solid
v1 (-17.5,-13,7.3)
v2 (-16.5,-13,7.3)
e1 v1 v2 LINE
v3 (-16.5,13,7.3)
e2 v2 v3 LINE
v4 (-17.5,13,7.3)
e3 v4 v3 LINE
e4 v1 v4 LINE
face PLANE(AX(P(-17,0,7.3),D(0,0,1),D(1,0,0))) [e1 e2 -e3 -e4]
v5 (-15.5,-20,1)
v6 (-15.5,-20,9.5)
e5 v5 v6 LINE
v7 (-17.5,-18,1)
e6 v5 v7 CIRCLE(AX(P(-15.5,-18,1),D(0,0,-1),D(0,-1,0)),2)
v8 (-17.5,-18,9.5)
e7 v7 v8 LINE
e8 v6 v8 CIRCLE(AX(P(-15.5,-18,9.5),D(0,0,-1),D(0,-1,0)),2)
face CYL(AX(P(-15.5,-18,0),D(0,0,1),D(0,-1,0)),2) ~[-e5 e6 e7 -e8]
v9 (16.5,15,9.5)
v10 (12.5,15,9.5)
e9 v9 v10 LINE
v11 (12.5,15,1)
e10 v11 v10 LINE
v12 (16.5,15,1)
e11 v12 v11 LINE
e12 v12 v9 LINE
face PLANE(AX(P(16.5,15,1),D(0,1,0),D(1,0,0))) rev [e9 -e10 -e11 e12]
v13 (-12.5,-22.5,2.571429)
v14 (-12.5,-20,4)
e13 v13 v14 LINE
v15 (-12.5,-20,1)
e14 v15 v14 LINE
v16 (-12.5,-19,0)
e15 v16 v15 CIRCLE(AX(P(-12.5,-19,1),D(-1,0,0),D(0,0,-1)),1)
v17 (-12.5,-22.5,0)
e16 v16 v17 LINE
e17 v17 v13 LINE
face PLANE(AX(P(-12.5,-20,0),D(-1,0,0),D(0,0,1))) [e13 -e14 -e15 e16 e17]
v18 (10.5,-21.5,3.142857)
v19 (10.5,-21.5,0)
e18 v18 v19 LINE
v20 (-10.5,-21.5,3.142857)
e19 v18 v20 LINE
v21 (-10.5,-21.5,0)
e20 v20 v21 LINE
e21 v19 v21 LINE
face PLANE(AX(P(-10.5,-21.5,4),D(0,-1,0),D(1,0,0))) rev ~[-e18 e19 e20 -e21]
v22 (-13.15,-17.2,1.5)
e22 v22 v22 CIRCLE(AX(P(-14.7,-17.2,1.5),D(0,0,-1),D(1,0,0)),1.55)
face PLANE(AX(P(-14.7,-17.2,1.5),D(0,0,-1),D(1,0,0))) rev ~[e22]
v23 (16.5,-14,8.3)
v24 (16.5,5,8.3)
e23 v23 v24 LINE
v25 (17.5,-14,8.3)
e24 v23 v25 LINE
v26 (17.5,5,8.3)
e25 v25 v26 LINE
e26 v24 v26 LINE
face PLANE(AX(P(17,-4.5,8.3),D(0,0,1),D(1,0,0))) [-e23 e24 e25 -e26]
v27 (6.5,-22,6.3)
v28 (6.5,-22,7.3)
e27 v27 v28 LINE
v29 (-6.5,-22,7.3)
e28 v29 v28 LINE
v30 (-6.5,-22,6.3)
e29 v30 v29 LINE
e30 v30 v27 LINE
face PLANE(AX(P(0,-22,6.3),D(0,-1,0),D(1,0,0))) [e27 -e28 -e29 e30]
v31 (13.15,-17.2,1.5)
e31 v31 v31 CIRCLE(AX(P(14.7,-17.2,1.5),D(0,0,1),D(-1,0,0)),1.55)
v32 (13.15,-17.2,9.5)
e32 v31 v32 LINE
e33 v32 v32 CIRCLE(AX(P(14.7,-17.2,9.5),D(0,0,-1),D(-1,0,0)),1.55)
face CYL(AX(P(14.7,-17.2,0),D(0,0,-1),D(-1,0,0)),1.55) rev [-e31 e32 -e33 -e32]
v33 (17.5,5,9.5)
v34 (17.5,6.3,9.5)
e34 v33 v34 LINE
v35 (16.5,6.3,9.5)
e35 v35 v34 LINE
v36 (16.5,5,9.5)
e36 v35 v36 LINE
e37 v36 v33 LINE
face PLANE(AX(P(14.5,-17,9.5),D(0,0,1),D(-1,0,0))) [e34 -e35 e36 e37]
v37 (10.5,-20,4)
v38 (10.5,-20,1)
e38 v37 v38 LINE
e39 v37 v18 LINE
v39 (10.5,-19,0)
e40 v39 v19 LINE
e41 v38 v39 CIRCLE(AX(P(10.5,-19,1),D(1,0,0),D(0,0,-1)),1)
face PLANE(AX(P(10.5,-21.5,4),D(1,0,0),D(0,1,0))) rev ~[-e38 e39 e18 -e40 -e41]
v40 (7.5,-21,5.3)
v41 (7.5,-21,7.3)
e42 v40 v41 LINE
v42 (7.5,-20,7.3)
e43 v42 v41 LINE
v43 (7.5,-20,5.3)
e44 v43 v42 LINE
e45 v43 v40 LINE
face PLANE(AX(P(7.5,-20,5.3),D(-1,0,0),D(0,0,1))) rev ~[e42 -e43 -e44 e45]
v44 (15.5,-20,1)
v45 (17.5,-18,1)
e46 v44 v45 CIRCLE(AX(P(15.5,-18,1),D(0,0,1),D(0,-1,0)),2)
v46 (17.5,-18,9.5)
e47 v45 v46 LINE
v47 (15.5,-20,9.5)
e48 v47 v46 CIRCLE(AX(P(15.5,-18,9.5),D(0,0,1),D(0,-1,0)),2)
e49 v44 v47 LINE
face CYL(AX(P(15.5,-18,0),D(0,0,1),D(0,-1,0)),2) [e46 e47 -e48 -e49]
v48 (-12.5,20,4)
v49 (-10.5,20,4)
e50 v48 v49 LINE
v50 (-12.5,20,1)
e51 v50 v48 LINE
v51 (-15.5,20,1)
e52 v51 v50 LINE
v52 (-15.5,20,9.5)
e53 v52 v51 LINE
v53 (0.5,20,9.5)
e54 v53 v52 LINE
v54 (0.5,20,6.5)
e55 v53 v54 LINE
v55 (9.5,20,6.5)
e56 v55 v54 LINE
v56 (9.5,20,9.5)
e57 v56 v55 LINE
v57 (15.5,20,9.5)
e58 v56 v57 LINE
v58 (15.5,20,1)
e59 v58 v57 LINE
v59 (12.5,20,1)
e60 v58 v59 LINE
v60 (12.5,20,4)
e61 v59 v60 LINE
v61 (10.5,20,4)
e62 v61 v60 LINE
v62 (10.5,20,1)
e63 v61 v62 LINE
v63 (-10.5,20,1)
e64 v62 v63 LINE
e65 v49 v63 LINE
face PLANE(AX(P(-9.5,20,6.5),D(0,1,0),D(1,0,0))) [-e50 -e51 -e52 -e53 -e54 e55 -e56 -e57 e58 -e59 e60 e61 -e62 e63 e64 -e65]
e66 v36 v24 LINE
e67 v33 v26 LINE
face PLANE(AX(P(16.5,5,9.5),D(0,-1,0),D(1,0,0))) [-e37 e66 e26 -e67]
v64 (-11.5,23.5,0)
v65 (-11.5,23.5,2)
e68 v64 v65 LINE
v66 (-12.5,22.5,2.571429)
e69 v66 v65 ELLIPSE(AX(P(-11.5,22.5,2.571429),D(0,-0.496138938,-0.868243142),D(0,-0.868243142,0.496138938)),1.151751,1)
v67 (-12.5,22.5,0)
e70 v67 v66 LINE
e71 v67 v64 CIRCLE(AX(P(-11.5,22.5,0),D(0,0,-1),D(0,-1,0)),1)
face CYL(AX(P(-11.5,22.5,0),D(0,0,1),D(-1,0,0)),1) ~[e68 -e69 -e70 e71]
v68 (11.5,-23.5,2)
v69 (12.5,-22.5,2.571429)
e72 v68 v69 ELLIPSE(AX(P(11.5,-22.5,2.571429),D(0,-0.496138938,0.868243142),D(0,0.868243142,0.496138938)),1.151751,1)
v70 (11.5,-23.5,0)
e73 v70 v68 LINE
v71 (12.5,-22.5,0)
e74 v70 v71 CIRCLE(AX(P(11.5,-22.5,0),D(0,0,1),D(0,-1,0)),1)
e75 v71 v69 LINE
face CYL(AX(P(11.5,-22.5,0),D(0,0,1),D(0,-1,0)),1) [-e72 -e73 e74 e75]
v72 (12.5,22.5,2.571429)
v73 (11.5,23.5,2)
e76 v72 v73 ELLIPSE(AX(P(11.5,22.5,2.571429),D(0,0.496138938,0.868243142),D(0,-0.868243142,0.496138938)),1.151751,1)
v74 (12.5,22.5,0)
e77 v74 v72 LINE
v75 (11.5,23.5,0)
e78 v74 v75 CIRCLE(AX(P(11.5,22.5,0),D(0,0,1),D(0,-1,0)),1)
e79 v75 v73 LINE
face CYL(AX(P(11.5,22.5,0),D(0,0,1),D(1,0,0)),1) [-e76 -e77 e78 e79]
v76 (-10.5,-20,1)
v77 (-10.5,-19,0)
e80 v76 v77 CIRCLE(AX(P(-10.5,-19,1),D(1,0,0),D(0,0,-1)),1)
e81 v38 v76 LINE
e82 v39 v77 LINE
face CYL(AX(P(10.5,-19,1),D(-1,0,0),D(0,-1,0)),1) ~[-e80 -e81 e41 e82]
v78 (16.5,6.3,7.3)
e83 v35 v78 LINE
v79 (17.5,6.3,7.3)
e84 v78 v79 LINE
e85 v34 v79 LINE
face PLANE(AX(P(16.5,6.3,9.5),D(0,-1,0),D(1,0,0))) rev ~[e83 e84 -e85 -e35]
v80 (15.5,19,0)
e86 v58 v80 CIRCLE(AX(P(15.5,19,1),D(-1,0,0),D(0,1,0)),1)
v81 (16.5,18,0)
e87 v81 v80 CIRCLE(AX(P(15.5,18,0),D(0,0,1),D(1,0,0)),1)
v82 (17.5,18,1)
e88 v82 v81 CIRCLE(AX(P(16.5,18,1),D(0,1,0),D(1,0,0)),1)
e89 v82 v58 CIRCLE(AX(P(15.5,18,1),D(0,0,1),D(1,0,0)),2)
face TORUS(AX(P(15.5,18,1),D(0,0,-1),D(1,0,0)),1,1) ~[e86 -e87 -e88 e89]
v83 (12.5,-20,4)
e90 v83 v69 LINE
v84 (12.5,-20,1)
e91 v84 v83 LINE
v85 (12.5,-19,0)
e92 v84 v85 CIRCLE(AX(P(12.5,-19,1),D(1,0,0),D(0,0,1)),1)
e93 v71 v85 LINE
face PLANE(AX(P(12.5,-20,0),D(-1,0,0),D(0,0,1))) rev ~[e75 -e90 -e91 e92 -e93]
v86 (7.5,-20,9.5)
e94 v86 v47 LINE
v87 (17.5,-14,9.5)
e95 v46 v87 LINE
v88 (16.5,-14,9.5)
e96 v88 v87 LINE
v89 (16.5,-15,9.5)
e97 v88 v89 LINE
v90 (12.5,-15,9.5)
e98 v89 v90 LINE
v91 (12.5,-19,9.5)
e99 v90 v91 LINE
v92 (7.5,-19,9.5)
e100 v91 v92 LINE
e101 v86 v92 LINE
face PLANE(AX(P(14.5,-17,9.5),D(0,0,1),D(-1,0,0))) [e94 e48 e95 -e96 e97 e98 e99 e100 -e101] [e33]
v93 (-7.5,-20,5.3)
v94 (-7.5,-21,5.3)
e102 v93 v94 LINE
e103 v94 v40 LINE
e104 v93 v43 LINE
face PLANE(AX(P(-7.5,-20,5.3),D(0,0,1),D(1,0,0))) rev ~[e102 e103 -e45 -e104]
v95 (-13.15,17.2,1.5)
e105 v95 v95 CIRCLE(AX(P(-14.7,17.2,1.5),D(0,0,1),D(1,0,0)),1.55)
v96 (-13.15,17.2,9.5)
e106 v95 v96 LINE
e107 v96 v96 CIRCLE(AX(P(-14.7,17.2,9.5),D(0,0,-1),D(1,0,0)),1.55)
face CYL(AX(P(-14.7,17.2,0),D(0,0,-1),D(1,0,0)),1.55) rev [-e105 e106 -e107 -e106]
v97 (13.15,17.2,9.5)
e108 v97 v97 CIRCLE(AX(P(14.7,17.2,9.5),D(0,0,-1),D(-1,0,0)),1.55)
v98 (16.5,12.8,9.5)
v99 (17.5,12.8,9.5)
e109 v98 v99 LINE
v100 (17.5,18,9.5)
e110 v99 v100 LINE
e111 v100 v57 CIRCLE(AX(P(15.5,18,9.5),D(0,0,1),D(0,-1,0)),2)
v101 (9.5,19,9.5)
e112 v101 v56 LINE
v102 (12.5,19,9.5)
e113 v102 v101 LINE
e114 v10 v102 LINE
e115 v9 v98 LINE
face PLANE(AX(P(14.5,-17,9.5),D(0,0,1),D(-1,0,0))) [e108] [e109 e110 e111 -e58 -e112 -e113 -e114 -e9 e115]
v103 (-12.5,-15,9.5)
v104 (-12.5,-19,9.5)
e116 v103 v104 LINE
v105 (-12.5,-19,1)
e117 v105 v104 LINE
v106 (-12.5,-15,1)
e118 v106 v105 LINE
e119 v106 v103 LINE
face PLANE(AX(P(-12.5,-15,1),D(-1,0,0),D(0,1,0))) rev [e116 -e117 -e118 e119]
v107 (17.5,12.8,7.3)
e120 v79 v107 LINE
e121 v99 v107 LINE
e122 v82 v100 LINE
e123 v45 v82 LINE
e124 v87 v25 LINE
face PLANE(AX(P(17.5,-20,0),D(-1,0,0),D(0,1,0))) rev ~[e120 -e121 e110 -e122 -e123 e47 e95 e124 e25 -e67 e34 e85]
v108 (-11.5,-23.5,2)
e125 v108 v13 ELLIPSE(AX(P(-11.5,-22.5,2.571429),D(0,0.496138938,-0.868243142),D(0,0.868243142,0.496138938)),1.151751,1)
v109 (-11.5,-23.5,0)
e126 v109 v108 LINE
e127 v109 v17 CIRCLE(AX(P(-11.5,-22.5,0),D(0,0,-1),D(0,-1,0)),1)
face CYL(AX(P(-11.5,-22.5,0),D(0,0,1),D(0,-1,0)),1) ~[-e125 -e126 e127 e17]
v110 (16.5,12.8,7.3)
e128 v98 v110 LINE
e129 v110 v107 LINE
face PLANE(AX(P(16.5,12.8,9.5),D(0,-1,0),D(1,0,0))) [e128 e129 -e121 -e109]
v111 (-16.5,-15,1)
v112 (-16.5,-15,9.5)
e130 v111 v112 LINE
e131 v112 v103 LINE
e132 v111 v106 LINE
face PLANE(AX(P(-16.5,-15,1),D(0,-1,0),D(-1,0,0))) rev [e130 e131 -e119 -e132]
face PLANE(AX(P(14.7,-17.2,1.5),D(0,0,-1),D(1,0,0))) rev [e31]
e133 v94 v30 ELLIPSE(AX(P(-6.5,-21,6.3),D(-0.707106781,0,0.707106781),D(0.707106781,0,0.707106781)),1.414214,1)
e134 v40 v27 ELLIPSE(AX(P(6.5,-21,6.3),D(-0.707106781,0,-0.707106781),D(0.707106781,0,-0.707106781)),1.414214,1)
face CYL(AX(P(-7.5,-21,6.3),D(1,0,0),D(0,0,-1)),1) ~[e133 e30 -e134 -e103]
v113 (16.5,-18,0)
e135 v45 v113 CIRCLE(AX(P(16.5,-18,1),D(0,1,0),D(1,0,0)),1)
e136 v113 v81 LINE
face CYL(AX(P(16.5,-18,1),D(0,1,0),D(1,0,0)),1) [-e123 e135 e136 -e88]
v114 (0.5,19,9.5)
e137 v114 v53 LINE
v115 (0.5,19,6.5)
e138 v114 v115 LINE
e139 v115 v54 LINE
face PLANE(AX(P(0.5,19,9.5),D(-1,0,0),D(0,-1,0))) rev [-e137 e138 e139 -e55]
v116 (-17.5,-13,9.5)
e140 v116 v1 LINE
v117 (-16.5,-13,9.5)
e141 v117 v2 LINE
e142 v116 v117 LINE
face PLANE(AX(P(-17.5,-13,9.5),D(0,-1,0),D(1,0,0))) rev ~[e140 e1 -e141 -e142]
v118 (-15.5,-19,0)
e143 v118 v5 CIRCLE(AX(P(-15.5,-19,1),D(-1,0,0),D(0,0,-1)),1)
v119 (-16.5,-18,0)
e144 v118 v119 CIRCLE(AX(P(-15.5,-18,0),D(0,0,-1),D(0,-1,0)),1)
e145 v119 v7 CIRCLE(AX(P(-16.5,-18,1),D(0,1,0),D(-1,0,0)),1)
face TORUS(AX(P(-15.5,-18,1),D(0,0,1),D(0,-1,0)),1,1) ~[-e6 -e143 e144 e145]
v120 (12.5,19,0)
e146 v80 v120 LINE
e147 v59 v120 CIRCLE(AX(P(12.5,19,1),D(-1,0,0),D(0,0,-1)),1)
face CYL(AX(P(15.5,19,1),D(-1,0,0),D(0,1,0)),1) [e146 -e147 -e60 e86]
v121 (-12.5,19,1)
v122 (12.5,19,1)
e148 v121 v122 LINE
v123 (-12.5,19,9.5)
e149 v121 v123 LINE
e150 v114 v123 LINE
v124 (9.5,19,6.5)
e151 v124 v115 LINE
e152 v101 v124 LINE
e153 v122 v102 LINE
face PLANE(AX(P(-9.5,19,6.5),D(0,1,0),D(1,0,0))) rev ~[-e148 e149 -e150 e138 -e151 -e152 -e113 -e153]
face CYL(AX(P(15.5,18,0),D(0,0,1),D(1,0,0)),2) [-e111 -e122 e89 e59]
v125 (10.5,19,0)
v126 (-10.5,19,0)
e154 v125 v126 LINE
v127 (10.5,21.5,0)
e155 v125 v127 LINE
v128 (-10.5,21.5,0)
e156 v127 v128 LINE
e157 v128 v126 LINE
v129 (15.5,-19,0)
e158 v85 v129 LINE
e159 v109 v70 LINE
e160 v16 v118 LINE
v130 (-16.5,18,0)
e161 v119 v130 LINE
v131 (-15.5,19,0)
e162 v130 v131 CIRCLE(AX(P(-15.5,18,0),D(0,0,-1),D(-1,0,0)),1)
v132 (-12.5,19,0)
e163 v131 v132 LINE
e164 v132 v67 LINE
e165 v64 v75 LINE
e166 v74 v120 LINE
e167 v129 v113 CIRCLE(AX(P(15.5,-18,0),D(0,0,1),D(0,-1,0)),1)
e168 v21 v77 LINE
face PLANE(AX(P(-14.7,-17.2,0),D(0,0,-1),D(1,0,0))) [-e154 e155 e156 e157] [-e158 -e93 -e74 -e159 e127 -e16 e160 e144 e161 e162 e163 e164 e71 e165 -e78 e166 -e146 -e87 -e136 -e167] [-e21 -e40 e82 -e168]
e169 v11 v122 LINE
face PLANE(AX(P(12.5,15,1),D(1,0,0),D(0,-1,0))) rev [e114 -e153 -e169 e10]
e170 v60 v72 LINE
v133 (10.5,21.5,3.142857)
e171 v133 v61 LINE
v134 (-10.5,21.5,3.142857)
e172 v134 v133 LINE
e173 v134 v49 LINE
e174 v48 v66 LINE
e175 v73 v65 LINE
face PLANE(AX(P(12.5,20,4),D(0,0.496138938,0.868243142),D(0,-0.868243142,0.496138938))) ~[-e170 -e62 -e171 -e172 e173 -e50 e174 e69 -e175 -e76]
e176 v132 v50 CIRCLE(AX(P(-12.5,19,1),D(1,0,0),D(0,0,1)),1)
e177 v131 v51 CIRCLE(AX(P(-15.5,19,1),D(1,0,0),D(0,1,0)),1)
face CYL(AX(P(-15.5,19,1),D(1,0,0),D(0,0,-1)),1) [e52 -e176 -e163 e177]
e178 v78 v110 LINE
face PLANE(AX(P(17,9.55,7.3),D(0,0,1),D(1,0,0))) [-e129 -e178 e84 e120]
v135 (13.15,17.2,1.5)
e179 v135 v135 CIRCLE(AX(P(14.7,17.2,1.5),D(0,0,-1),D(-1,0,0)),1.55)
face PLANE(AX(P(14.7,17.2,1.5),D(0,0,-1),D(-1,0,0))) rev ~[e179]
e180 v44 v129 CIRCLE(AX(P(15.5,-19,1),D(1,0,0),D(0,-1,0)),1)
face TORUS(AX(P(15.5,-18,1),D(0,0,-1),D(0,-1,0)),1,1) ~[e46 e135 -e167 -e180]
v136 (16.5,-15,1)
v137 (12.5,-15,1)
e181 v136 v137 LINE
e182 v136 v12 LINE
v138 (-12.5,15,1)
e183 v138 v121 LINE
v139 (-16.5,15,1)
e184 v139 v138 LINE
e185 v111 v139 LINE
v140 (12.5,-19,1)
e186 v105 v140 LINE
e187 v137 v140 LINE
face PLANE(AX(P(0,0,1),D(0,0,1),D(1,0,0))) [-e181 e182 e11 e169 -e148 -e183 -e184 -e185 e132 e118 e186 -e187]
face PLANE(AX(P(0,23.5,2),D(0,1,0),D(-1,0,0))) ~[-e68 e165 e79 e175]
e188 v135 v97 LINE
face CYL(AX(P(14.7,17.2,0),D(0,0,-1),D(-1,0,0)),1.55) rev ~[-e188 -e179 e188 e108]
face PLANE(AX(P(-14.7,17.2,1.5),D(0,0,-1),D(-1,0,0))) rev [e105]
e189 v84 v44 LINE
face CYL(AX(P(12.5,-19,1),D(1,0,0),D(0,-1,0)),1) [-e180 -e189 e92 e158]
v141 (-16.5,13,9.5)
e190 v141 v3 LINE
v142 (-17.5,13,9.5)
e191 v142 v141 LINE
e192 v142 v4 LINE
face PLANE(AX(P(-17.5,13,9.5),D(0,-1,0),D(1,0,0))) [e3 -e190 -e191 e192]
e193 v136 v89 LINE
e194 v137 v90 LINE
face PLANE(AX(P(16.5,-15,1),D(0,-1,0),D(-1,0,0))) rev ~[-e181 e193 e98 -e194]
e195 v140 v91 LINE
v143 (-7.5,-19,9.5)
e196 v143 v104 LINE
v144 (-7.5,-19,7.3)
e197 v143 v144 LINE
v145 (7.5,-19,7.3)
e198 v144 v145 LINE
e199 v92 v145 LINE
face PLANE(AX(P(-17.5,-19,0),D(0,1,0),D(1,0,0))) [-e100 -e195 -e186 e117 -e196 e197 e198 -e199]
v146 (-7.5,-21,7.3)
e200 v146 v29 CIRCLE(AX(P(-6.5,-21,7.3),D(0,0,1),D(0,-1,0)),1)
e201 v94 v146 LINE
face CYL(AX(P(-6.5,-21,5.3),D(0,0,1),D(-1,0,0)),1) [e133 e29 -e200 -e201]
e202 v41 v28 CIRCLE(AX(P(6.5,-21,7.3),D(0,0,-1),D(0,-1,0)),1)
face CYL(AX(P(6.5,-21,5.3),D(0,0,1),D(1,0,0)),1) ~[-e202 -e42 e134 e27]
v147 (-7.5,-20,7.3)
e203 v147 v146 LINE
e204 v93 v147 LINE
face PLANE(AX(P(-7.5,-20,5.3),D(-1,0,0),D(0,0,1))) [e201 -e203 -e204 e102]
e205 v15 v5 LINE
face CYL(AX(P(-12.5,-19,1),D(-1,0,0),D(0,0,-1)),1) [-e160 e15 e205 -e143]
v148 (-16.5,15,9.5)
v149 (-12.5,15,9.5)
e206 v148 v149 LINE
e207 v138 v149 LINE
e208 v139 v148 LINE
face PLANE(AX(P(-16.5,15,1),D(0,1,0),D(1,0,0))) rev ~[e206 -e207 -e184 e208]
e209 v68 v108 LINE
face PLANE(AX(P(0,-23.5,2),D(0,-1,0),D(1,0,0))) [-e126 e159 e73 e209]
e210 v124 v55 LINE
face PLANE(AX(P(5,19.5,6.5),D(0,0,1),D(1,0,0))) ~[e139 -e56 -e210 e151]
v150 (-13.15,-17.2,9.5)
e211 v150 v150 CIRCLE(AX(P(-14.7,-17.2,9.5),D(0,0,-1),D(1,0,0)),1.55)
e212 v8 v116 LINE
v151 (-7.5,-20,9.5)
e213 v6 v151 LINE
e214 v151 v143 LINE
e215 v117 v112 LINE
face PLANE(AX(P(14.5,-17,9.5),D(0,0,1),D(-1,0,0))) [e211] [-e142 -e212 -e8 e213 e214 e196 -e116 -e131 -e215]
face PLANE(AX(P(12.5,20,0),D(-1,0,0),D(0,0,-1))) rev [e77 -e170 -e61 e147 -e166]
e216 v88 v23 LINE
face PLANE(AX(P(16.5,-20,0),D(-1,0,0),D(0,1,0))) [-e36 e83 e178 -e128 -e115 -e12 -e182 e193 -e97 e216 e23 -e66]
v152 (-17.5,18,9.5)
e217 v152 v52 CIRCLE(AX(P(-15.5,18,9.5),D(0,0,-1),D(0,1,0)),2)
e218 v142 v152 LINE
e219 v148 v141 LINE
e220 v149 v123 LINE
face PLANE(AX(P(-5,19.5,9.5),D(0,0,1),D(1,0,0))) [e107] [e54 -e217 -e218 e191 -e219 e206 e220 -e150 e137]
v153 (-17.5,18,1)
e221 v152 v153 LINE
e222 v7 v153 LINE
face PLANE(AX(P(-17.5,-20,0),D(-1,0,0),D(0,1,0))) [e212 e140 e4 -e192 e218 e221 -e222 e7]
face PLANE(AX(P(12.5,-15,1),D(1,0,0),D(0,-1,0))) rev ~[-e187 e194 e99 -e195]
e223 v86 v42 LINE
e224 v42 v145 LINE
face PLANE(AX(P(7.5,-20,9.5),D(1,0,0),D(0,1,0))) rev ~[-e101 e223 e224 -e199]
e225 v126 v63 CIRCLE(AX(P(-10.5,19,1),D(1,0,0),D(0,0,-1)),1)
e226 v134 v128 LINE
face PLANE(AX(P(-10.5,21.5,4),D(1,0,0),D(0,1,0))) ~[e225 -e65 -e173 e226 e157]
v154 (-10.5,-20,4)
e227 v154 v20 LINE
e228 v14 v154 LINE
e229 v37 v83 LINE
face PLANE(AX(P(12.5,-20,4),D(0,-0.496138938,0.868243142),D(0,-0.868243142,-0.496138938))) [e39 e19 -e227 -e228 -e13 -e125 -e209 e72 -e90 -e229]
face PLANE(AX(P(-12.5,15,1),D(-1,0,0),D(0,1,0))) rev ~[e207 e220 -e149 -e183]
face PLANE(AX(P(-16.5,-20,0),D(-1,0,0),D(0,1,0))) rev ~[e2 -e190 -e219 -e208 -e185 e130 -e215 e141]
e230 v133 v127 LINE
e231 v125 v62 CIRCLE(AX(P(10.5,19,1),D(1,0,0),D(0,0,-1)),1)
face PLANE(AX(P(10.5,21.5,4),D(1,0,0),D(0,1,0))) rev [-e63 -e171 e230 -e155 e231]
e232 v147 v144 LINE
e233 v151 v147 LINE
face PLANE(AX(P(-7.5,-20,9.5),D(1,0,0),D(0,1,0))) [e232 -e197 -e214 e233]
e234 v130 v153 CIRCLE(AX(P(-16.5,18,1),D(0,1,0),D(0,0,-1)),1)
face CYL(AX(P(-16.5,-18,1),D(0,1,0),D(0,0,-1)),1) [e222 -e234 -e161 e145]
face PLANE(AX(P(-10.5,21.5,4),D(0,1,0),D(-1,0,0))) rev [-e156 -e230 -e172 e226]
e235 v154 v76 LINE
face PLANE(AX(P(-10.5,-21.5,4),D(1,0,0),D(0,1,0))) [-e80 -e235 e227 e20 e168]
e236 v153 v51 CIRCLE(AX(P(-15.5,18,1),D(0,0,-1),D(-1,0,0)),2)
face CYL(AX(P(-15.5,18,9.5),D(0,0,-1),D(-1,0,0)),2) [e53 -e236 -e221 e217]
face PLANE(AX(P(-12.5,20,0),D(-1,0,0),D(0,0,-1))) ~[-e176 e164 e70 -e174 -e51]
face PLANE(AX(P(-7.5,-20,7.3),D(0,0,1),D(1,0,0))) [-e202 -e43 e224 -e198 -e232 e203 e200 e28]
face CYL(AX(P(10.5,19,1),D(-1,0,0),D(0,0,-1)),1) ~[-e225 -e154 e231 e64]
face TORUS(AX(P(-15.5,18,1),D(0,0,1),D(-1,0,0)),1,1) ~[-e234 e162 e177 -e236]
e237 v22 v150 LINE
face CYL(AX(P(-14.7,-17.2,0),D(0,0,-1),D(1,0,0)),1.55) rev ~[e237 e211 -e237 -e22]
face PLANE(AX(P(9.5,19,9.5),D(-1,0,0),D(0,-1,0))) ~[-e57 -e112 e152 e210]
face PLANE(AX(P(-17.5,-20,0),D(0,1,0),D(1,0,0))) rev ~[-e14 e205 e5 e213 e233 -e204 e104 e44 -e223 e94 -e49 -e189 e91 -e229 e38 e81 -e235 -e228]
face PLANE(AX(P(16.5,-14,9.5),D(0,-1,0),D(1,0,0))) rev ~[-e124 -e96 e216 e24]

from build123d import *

# Parameters (mm, degrees)
SKETCH_1_W               = 35
SKETCH_1_H               = 40
EXTRUDE_1_DEPTH          = 9.5
SHELL_1_T                = -1
SKETCH_2_W               = 4
SKETCH_2_H               = 4
EXTRUDE_2_DEPTH          = 8.5
MIRROR_4_COPY_1_SKETCH_W = 4
MIRROR_4_COPY_1_SKETCH_H = 4
MIRROR_4_COPY_1_DEPTH    = 8.5
SKETCH_3_R               = 1.55
CUT_EXTRUDE_1_DEPTH      = 12
MIRROR_6_COPY_1_SKETCH_R = 1.55
MIRROR_6_COPY_1_DEPTH    = 12
SKETCH_6_R               = 1.55
EXTRUDE_3_DEPTH          = 1.5
MIRROR_8_COPY_1_SKETCH_R = 1.55
MIRROR_8_COPY_1_DEPTH    = 1.5
SKETCH_7_W               = 9
SKETCH_7_H               = 1
CUT_EXTRUDE_2_DEPTH      = 3
SKETCH_8_W               = 1
SKETCH_8_H               = 26
CUT_EXTRUDE_3_DEPTH      = 2.2
SKETCH_9_W               = 1
SKETCH_9_H               = 19
CUT_EXTRUDE_4_DEPTH      = 1.2
SKETCH_10_W              = 1
SKETCH_10_H              = 6.5
CUT_EXTRUDE_5_DEPTH      = 2.2
SKETCH_11_W              = 15
SKETCH_11_H              = 1
CUT_EXTRUDE_6_DEPTH      = 2.2
SKETCH_12_W              = 25
SKETCH_12_H              = 4
EXTRUDE_4_DEPTH          = 3.5
SKETCH_13_W              = 21
SKETCH_13_H              = 1.5
CUT_EXTRUDE_7_DEPTH      = 5
CUT_EXTRUDE_8_DEPTH      = 50
SKETCH_15_W              = 15
SKETCH_15_H              = 2
EXTRUDE_5_DEPTH          = 2
FILLET_1_R               = 2
FILLET_2_R               = 1
FILLET_3_R               = 1
FILLET_4_R               = 1
SKETCH_16_W              = 9
SKETCH_16_H              = 1
EXTRUDE_6_DEPTH          = 3


with BuildPart() as part:
    # 草图1 → 凸台-拉伸1 (new body)
    with BuildSketch(Plane.XY):
        Rectangle(SKETCH_1_W, SKETCH_1_H)
    extrude(amount=EXTRUDE_1_DEPTH)

    # 抽壳1
    shell_1_openings = [part.faces().sort_by_distance(p)[0] for p in [
        (0, 0, 9.5),
    ]]
    offset(amount=SHELL_1_T, openings=shell_1_openings, kind=Kind.INTERSECTION)

    # 草图2 → 凸台-拉伸2 (add)
    with BuildSketch(Plane.XY.offset(1)):
        with Locations((-14.5, 17)):
            Rectangle(SKETCH_2_W, SKETCH_2_H)
    extrude_2 = extrude(amount=EXTRUDE_2_DEPTH)

    # 镜向3: 凸台-拉伸2 across plane
    add(extrude_2.mirror(Plane.ZX))

    # 镜向4: 凸台-拉伸2 across plane
    add(extrude_2.mirror(Plane(origin=(0, 0, 0), x_dir=(0, 0, 1), z_dir=(1, 0, 0))))

    # 镜向4 copy 1 sketch → 镜向4 copy 1 (add)
    with BuildSketch(Plane(origin=(0, 0, 1), x_dir=(-1, 0, 0), z_dir=(0, 0, 1))):
        with Locations((-14.5, 17)):
            Rectangle(MIRROR_4_COPY_1_SKETCH_W, MIRROR_4_COPY_1_SKETCH_H)
    extrude(amount=MIRROR_4_COPY_1_DEPTH)

    # 草图3 → 切除-拉伸1 (cut)
    with BuildSketch(Plane(origin=(0, 0, 0), x_dir=(-1, 0, 0), z_dir=(0, 0, -1))):
        with Locations((-14.7, 17.2)):
            Circle(SKETCH_3_R)
    cut_extrude_1 = extrude(amount=-CUT_EXTRUDE_1_DEPTH, mode=Mode.SUBTRACT)

    # 镜向5: 切除-拉伸1 across plane
    add(cut_extrude_1.mirror(Plane.ZX), mode=Mode.SUBTRACT)

    # 镜向6: 切除-拉伸1 across plane
    add(cut_extrude_1.mirror(Plane(origin=(0, 0, 0), x_dir=(0, 0, 1), z_dir=(1, 0, 0))), mode=Mode.SUBTRACT)

    # 镜向6 copy 1 sketch → 镜向6 copy 1 (cut)
    with BuildSketch(Plane(origin=(0, 0, 0), x_dir=(1, 0, 0), z_dir=(0, 0, -1))):
        with Locations((-14.7, 17.2)):
            Circle(MIRROR_6_COPY_1_SKETCH_R)
    extrude(amount=-MIRROR_6_COPY_1_DEPTH, mode=Mode.SUBTRACT)

    # 草图6 → 凸台-拉伸3 (add)
    with BuildSketch(Plane(origin=(0, 0, 0), x_dir=(-1, 0, 0), z_dir=(0, 0, -1))):
        with Locations((-14.7, 17.2)):
            Circle(SKETCH_6_R)
    extrude_3 = extrude(amount=-EXTRUDE_3_DEPTH)

    # 镜向7: 凸台-拉伸3 across plane
    add(extrude_3.mirror(Plane.ZX))

    # 镜向8: 凸台-拉伸3 across plane
    add(extrude_3.mirror(Plane(origin=(0, 0, 0), x_dir=(0, 0, 1), z_dir=(1, 0, 0))))

    # 镜向8 copy 1 sketch → 镜向8 copy 1 (add)
    with BuildSketch(Plane(origin=(0, 0, 0), x_dir=(1, 0, 0), z_dir=(0, 0, -1))):
        with Locations((-14.7, 17.2)):
            Circle(MIRROR_8_COPY_1_SKETCH_R)
    extrude(amount=-MIRROR_8_COPY_1_DEPTH)

    # 草图7 → 切除-拉伸2 (cut)
    with BuildSketch(Plane.XY.offset(9.5)):
        with Locations((-5, 19.5)):
            Rectangle(SKETCH_7_W, SKETCH_7_H)
    cut_extrude_2 = extrude(amount=-CUT_EXTRUDE_2_DEPTH, mode=Mode.SUBTRACT)

    # 草图8 → 切除-拉伸3 (cut)
    with BuildSketch(Plane.XY.offset(9.5)):
        with Locations((-17, 0)):
            Rectangle(SKETCH_8_W, SKETCH_8_H)
    extrude(amount=-CUT_EXTRUDE_3_DEPTH, mode=Mode.SUBTRACT)

    # 草图9 → 切除-拉伸4 (cut)
    with BuildSketch(Plane.XY.offset(9.5)):
        with Locations((17, -4.5)):
            Rectangle(SKETCH_9_W, SKETCH_9_H)
    extrude(amount=-CUT_EXTRUDE_4_DEPTH, mode=Mode.SUBTRACT)

    # 草图10 → 切除-拉伸5 (cut)
    with BuildSketch(Plane.XY.offset(9.5)):
        with Locations((17, 9.55)):
            Rectangle(SKETCH_10_W, SKETCH_10_H)
    extrude(amount=-CUT_EXTRUDE_5_DEPTH, mode=Mode.SUBTRACT)

    # 草图11 → 切除-拉伸6 (cut)
    with BuildSketch(Plane.XY.offset(9.5)):
        with Locations((0, -19.5)):
            Rectangle(SKETCH_11_W, SKETCH_11_H)
    extrude(amount=-CUT_EXTRUDE_6_DEPTH, mode=Mode.SUBTRACT)

    # 草图12 → 凸台-拉伸4 (add)
    with BuildSketch(Plane.XZ.offset(20)):
        with Locations((0, 2)):
            Rectangle(SKETCH_12_W, SKETCH_12_H)
    extrude_4 = extrude(amount=EXTRUDE_4_DEPTH)

    # 草图13 → 切除-拉伸7 (cut)
    with BuildSketch(Plane.XY.offset(4)):
        with Locations((0, -20.75)):
            Rectangle(SKETCH_13_W, SKETCH_13_H)
    cut_extrude_7 = extrude(amount=-CUT_EXTRUDE_7_DEPTH, mode=Mode.SUBTRACT)

    # 草图14 → 切除-拉伸8 (cut)
    with BuildSketch(Plane(origin=(12.5, 0, 0), x_dir=(0, 0, -1), z_dir=(1, 0, 0))):
        Polygon((-2, -23.5), (-4, -23.5), (-4, -21.75), (-4, -20), align=None)
    cut_extrude_8 = extrude(amount=-CUT_EXTRUDE_8_DEPTH, mode=Mode.SUBTRACT)

    # 镜向11: 凸台-拉伸4, 切除-拉伸7, 切除-拉伸8 across plane
    add(extrude_4.mirror(Plane.ZX))
    add(cut_extrude_7.mirror(Plane.ZX), mode=Mode.SUBTRACT)
    add(cut_extrude_8.mirror(Plane.ZX), mode=Mode.SUBTRACT)

    # 草图15 → 凸台-拉伸5 (add)
    with BuildSketch(Plane.XZ.offset(20)):
        with Locations((0, 6.3)):
            Rectangle(SKETCH_15_W, SKETCH_15_H)
    extrude(amount=EXTRUDE_5_DEPTH)

    # 圆角1
    fillet_1_edges = [part.edges().sort_by_distance(p)[0] for p in [
        (-17.5, 20, 4.75),
        (17.5, 20, 4.75),
        (17.5, -20, 4.75),
        (-17.5, -20, 4.75),
    ]]
    fillet(fillet_1_edges, radius=FILLET_1_R)

    # 圆角2
    fillet_2_edges = [part.edges().sort_by_distance(p)[0] for p in [
        (14, -20, 0),
        (0, -20, 0),
        (-14, 20, 0),
        (0, 20, 0),
        (-17.5, 0, 0),
        (14, 20, 0),
        (17.5, 0, 0),
        (-14, -20, 0),
        (-16.914213562, -19.414213562, 0),
        (16.914213562, -19.414213562, 0),
        (16.914213562, 19.414213562, 0),
        (-16.914213562, 19.414213562, 0),
    ]]
    fillet(fillet_2_edges, radius=FILLET_2_R)

    # 圆角3
    fillet_3_edges = [part.edges().sort_by_distance(p)[0] for p in [
        (12.5, -23.5, 1),
        (-12.5, -23.5, 1),
        (12.5, 23.5, 1),
        (-12.5, 23.5, 1),
    ]]
    fillet(fillet_3_edges, radius=FILLET_3_R)

    # 圆角4
    fillet_4_edges = [part.edges().sort_by_distance(p)[0] for p in [
        (-7.5, -22, 6.3),
        (0, -22, 5.3),
        (7.5, -22, 6.3),
    ]]
    fillet(fillet_4_edges, radius=FILLET_4_R)

    # 镜向12: 切除-拉伸2 across plane
    add(cut_extrude_2.mirror(Plane(origin=(0, 0, 0), x_dir=(0, 0, 1), z_dir=(1, 0, 0))), mode=Mode.SUBTRACT)

    # 草图16 → 凸台-拉伸6 (add)
    with BuildSketch(Plane.XY.offset(6.5)):
        with Locations((-5, 19.5)):
            Rectangle(SKETCH_16_W, SKETCH_16_H)
    extrude(amount=EXTRUDE_6_DEPTH)


solid = part.part
